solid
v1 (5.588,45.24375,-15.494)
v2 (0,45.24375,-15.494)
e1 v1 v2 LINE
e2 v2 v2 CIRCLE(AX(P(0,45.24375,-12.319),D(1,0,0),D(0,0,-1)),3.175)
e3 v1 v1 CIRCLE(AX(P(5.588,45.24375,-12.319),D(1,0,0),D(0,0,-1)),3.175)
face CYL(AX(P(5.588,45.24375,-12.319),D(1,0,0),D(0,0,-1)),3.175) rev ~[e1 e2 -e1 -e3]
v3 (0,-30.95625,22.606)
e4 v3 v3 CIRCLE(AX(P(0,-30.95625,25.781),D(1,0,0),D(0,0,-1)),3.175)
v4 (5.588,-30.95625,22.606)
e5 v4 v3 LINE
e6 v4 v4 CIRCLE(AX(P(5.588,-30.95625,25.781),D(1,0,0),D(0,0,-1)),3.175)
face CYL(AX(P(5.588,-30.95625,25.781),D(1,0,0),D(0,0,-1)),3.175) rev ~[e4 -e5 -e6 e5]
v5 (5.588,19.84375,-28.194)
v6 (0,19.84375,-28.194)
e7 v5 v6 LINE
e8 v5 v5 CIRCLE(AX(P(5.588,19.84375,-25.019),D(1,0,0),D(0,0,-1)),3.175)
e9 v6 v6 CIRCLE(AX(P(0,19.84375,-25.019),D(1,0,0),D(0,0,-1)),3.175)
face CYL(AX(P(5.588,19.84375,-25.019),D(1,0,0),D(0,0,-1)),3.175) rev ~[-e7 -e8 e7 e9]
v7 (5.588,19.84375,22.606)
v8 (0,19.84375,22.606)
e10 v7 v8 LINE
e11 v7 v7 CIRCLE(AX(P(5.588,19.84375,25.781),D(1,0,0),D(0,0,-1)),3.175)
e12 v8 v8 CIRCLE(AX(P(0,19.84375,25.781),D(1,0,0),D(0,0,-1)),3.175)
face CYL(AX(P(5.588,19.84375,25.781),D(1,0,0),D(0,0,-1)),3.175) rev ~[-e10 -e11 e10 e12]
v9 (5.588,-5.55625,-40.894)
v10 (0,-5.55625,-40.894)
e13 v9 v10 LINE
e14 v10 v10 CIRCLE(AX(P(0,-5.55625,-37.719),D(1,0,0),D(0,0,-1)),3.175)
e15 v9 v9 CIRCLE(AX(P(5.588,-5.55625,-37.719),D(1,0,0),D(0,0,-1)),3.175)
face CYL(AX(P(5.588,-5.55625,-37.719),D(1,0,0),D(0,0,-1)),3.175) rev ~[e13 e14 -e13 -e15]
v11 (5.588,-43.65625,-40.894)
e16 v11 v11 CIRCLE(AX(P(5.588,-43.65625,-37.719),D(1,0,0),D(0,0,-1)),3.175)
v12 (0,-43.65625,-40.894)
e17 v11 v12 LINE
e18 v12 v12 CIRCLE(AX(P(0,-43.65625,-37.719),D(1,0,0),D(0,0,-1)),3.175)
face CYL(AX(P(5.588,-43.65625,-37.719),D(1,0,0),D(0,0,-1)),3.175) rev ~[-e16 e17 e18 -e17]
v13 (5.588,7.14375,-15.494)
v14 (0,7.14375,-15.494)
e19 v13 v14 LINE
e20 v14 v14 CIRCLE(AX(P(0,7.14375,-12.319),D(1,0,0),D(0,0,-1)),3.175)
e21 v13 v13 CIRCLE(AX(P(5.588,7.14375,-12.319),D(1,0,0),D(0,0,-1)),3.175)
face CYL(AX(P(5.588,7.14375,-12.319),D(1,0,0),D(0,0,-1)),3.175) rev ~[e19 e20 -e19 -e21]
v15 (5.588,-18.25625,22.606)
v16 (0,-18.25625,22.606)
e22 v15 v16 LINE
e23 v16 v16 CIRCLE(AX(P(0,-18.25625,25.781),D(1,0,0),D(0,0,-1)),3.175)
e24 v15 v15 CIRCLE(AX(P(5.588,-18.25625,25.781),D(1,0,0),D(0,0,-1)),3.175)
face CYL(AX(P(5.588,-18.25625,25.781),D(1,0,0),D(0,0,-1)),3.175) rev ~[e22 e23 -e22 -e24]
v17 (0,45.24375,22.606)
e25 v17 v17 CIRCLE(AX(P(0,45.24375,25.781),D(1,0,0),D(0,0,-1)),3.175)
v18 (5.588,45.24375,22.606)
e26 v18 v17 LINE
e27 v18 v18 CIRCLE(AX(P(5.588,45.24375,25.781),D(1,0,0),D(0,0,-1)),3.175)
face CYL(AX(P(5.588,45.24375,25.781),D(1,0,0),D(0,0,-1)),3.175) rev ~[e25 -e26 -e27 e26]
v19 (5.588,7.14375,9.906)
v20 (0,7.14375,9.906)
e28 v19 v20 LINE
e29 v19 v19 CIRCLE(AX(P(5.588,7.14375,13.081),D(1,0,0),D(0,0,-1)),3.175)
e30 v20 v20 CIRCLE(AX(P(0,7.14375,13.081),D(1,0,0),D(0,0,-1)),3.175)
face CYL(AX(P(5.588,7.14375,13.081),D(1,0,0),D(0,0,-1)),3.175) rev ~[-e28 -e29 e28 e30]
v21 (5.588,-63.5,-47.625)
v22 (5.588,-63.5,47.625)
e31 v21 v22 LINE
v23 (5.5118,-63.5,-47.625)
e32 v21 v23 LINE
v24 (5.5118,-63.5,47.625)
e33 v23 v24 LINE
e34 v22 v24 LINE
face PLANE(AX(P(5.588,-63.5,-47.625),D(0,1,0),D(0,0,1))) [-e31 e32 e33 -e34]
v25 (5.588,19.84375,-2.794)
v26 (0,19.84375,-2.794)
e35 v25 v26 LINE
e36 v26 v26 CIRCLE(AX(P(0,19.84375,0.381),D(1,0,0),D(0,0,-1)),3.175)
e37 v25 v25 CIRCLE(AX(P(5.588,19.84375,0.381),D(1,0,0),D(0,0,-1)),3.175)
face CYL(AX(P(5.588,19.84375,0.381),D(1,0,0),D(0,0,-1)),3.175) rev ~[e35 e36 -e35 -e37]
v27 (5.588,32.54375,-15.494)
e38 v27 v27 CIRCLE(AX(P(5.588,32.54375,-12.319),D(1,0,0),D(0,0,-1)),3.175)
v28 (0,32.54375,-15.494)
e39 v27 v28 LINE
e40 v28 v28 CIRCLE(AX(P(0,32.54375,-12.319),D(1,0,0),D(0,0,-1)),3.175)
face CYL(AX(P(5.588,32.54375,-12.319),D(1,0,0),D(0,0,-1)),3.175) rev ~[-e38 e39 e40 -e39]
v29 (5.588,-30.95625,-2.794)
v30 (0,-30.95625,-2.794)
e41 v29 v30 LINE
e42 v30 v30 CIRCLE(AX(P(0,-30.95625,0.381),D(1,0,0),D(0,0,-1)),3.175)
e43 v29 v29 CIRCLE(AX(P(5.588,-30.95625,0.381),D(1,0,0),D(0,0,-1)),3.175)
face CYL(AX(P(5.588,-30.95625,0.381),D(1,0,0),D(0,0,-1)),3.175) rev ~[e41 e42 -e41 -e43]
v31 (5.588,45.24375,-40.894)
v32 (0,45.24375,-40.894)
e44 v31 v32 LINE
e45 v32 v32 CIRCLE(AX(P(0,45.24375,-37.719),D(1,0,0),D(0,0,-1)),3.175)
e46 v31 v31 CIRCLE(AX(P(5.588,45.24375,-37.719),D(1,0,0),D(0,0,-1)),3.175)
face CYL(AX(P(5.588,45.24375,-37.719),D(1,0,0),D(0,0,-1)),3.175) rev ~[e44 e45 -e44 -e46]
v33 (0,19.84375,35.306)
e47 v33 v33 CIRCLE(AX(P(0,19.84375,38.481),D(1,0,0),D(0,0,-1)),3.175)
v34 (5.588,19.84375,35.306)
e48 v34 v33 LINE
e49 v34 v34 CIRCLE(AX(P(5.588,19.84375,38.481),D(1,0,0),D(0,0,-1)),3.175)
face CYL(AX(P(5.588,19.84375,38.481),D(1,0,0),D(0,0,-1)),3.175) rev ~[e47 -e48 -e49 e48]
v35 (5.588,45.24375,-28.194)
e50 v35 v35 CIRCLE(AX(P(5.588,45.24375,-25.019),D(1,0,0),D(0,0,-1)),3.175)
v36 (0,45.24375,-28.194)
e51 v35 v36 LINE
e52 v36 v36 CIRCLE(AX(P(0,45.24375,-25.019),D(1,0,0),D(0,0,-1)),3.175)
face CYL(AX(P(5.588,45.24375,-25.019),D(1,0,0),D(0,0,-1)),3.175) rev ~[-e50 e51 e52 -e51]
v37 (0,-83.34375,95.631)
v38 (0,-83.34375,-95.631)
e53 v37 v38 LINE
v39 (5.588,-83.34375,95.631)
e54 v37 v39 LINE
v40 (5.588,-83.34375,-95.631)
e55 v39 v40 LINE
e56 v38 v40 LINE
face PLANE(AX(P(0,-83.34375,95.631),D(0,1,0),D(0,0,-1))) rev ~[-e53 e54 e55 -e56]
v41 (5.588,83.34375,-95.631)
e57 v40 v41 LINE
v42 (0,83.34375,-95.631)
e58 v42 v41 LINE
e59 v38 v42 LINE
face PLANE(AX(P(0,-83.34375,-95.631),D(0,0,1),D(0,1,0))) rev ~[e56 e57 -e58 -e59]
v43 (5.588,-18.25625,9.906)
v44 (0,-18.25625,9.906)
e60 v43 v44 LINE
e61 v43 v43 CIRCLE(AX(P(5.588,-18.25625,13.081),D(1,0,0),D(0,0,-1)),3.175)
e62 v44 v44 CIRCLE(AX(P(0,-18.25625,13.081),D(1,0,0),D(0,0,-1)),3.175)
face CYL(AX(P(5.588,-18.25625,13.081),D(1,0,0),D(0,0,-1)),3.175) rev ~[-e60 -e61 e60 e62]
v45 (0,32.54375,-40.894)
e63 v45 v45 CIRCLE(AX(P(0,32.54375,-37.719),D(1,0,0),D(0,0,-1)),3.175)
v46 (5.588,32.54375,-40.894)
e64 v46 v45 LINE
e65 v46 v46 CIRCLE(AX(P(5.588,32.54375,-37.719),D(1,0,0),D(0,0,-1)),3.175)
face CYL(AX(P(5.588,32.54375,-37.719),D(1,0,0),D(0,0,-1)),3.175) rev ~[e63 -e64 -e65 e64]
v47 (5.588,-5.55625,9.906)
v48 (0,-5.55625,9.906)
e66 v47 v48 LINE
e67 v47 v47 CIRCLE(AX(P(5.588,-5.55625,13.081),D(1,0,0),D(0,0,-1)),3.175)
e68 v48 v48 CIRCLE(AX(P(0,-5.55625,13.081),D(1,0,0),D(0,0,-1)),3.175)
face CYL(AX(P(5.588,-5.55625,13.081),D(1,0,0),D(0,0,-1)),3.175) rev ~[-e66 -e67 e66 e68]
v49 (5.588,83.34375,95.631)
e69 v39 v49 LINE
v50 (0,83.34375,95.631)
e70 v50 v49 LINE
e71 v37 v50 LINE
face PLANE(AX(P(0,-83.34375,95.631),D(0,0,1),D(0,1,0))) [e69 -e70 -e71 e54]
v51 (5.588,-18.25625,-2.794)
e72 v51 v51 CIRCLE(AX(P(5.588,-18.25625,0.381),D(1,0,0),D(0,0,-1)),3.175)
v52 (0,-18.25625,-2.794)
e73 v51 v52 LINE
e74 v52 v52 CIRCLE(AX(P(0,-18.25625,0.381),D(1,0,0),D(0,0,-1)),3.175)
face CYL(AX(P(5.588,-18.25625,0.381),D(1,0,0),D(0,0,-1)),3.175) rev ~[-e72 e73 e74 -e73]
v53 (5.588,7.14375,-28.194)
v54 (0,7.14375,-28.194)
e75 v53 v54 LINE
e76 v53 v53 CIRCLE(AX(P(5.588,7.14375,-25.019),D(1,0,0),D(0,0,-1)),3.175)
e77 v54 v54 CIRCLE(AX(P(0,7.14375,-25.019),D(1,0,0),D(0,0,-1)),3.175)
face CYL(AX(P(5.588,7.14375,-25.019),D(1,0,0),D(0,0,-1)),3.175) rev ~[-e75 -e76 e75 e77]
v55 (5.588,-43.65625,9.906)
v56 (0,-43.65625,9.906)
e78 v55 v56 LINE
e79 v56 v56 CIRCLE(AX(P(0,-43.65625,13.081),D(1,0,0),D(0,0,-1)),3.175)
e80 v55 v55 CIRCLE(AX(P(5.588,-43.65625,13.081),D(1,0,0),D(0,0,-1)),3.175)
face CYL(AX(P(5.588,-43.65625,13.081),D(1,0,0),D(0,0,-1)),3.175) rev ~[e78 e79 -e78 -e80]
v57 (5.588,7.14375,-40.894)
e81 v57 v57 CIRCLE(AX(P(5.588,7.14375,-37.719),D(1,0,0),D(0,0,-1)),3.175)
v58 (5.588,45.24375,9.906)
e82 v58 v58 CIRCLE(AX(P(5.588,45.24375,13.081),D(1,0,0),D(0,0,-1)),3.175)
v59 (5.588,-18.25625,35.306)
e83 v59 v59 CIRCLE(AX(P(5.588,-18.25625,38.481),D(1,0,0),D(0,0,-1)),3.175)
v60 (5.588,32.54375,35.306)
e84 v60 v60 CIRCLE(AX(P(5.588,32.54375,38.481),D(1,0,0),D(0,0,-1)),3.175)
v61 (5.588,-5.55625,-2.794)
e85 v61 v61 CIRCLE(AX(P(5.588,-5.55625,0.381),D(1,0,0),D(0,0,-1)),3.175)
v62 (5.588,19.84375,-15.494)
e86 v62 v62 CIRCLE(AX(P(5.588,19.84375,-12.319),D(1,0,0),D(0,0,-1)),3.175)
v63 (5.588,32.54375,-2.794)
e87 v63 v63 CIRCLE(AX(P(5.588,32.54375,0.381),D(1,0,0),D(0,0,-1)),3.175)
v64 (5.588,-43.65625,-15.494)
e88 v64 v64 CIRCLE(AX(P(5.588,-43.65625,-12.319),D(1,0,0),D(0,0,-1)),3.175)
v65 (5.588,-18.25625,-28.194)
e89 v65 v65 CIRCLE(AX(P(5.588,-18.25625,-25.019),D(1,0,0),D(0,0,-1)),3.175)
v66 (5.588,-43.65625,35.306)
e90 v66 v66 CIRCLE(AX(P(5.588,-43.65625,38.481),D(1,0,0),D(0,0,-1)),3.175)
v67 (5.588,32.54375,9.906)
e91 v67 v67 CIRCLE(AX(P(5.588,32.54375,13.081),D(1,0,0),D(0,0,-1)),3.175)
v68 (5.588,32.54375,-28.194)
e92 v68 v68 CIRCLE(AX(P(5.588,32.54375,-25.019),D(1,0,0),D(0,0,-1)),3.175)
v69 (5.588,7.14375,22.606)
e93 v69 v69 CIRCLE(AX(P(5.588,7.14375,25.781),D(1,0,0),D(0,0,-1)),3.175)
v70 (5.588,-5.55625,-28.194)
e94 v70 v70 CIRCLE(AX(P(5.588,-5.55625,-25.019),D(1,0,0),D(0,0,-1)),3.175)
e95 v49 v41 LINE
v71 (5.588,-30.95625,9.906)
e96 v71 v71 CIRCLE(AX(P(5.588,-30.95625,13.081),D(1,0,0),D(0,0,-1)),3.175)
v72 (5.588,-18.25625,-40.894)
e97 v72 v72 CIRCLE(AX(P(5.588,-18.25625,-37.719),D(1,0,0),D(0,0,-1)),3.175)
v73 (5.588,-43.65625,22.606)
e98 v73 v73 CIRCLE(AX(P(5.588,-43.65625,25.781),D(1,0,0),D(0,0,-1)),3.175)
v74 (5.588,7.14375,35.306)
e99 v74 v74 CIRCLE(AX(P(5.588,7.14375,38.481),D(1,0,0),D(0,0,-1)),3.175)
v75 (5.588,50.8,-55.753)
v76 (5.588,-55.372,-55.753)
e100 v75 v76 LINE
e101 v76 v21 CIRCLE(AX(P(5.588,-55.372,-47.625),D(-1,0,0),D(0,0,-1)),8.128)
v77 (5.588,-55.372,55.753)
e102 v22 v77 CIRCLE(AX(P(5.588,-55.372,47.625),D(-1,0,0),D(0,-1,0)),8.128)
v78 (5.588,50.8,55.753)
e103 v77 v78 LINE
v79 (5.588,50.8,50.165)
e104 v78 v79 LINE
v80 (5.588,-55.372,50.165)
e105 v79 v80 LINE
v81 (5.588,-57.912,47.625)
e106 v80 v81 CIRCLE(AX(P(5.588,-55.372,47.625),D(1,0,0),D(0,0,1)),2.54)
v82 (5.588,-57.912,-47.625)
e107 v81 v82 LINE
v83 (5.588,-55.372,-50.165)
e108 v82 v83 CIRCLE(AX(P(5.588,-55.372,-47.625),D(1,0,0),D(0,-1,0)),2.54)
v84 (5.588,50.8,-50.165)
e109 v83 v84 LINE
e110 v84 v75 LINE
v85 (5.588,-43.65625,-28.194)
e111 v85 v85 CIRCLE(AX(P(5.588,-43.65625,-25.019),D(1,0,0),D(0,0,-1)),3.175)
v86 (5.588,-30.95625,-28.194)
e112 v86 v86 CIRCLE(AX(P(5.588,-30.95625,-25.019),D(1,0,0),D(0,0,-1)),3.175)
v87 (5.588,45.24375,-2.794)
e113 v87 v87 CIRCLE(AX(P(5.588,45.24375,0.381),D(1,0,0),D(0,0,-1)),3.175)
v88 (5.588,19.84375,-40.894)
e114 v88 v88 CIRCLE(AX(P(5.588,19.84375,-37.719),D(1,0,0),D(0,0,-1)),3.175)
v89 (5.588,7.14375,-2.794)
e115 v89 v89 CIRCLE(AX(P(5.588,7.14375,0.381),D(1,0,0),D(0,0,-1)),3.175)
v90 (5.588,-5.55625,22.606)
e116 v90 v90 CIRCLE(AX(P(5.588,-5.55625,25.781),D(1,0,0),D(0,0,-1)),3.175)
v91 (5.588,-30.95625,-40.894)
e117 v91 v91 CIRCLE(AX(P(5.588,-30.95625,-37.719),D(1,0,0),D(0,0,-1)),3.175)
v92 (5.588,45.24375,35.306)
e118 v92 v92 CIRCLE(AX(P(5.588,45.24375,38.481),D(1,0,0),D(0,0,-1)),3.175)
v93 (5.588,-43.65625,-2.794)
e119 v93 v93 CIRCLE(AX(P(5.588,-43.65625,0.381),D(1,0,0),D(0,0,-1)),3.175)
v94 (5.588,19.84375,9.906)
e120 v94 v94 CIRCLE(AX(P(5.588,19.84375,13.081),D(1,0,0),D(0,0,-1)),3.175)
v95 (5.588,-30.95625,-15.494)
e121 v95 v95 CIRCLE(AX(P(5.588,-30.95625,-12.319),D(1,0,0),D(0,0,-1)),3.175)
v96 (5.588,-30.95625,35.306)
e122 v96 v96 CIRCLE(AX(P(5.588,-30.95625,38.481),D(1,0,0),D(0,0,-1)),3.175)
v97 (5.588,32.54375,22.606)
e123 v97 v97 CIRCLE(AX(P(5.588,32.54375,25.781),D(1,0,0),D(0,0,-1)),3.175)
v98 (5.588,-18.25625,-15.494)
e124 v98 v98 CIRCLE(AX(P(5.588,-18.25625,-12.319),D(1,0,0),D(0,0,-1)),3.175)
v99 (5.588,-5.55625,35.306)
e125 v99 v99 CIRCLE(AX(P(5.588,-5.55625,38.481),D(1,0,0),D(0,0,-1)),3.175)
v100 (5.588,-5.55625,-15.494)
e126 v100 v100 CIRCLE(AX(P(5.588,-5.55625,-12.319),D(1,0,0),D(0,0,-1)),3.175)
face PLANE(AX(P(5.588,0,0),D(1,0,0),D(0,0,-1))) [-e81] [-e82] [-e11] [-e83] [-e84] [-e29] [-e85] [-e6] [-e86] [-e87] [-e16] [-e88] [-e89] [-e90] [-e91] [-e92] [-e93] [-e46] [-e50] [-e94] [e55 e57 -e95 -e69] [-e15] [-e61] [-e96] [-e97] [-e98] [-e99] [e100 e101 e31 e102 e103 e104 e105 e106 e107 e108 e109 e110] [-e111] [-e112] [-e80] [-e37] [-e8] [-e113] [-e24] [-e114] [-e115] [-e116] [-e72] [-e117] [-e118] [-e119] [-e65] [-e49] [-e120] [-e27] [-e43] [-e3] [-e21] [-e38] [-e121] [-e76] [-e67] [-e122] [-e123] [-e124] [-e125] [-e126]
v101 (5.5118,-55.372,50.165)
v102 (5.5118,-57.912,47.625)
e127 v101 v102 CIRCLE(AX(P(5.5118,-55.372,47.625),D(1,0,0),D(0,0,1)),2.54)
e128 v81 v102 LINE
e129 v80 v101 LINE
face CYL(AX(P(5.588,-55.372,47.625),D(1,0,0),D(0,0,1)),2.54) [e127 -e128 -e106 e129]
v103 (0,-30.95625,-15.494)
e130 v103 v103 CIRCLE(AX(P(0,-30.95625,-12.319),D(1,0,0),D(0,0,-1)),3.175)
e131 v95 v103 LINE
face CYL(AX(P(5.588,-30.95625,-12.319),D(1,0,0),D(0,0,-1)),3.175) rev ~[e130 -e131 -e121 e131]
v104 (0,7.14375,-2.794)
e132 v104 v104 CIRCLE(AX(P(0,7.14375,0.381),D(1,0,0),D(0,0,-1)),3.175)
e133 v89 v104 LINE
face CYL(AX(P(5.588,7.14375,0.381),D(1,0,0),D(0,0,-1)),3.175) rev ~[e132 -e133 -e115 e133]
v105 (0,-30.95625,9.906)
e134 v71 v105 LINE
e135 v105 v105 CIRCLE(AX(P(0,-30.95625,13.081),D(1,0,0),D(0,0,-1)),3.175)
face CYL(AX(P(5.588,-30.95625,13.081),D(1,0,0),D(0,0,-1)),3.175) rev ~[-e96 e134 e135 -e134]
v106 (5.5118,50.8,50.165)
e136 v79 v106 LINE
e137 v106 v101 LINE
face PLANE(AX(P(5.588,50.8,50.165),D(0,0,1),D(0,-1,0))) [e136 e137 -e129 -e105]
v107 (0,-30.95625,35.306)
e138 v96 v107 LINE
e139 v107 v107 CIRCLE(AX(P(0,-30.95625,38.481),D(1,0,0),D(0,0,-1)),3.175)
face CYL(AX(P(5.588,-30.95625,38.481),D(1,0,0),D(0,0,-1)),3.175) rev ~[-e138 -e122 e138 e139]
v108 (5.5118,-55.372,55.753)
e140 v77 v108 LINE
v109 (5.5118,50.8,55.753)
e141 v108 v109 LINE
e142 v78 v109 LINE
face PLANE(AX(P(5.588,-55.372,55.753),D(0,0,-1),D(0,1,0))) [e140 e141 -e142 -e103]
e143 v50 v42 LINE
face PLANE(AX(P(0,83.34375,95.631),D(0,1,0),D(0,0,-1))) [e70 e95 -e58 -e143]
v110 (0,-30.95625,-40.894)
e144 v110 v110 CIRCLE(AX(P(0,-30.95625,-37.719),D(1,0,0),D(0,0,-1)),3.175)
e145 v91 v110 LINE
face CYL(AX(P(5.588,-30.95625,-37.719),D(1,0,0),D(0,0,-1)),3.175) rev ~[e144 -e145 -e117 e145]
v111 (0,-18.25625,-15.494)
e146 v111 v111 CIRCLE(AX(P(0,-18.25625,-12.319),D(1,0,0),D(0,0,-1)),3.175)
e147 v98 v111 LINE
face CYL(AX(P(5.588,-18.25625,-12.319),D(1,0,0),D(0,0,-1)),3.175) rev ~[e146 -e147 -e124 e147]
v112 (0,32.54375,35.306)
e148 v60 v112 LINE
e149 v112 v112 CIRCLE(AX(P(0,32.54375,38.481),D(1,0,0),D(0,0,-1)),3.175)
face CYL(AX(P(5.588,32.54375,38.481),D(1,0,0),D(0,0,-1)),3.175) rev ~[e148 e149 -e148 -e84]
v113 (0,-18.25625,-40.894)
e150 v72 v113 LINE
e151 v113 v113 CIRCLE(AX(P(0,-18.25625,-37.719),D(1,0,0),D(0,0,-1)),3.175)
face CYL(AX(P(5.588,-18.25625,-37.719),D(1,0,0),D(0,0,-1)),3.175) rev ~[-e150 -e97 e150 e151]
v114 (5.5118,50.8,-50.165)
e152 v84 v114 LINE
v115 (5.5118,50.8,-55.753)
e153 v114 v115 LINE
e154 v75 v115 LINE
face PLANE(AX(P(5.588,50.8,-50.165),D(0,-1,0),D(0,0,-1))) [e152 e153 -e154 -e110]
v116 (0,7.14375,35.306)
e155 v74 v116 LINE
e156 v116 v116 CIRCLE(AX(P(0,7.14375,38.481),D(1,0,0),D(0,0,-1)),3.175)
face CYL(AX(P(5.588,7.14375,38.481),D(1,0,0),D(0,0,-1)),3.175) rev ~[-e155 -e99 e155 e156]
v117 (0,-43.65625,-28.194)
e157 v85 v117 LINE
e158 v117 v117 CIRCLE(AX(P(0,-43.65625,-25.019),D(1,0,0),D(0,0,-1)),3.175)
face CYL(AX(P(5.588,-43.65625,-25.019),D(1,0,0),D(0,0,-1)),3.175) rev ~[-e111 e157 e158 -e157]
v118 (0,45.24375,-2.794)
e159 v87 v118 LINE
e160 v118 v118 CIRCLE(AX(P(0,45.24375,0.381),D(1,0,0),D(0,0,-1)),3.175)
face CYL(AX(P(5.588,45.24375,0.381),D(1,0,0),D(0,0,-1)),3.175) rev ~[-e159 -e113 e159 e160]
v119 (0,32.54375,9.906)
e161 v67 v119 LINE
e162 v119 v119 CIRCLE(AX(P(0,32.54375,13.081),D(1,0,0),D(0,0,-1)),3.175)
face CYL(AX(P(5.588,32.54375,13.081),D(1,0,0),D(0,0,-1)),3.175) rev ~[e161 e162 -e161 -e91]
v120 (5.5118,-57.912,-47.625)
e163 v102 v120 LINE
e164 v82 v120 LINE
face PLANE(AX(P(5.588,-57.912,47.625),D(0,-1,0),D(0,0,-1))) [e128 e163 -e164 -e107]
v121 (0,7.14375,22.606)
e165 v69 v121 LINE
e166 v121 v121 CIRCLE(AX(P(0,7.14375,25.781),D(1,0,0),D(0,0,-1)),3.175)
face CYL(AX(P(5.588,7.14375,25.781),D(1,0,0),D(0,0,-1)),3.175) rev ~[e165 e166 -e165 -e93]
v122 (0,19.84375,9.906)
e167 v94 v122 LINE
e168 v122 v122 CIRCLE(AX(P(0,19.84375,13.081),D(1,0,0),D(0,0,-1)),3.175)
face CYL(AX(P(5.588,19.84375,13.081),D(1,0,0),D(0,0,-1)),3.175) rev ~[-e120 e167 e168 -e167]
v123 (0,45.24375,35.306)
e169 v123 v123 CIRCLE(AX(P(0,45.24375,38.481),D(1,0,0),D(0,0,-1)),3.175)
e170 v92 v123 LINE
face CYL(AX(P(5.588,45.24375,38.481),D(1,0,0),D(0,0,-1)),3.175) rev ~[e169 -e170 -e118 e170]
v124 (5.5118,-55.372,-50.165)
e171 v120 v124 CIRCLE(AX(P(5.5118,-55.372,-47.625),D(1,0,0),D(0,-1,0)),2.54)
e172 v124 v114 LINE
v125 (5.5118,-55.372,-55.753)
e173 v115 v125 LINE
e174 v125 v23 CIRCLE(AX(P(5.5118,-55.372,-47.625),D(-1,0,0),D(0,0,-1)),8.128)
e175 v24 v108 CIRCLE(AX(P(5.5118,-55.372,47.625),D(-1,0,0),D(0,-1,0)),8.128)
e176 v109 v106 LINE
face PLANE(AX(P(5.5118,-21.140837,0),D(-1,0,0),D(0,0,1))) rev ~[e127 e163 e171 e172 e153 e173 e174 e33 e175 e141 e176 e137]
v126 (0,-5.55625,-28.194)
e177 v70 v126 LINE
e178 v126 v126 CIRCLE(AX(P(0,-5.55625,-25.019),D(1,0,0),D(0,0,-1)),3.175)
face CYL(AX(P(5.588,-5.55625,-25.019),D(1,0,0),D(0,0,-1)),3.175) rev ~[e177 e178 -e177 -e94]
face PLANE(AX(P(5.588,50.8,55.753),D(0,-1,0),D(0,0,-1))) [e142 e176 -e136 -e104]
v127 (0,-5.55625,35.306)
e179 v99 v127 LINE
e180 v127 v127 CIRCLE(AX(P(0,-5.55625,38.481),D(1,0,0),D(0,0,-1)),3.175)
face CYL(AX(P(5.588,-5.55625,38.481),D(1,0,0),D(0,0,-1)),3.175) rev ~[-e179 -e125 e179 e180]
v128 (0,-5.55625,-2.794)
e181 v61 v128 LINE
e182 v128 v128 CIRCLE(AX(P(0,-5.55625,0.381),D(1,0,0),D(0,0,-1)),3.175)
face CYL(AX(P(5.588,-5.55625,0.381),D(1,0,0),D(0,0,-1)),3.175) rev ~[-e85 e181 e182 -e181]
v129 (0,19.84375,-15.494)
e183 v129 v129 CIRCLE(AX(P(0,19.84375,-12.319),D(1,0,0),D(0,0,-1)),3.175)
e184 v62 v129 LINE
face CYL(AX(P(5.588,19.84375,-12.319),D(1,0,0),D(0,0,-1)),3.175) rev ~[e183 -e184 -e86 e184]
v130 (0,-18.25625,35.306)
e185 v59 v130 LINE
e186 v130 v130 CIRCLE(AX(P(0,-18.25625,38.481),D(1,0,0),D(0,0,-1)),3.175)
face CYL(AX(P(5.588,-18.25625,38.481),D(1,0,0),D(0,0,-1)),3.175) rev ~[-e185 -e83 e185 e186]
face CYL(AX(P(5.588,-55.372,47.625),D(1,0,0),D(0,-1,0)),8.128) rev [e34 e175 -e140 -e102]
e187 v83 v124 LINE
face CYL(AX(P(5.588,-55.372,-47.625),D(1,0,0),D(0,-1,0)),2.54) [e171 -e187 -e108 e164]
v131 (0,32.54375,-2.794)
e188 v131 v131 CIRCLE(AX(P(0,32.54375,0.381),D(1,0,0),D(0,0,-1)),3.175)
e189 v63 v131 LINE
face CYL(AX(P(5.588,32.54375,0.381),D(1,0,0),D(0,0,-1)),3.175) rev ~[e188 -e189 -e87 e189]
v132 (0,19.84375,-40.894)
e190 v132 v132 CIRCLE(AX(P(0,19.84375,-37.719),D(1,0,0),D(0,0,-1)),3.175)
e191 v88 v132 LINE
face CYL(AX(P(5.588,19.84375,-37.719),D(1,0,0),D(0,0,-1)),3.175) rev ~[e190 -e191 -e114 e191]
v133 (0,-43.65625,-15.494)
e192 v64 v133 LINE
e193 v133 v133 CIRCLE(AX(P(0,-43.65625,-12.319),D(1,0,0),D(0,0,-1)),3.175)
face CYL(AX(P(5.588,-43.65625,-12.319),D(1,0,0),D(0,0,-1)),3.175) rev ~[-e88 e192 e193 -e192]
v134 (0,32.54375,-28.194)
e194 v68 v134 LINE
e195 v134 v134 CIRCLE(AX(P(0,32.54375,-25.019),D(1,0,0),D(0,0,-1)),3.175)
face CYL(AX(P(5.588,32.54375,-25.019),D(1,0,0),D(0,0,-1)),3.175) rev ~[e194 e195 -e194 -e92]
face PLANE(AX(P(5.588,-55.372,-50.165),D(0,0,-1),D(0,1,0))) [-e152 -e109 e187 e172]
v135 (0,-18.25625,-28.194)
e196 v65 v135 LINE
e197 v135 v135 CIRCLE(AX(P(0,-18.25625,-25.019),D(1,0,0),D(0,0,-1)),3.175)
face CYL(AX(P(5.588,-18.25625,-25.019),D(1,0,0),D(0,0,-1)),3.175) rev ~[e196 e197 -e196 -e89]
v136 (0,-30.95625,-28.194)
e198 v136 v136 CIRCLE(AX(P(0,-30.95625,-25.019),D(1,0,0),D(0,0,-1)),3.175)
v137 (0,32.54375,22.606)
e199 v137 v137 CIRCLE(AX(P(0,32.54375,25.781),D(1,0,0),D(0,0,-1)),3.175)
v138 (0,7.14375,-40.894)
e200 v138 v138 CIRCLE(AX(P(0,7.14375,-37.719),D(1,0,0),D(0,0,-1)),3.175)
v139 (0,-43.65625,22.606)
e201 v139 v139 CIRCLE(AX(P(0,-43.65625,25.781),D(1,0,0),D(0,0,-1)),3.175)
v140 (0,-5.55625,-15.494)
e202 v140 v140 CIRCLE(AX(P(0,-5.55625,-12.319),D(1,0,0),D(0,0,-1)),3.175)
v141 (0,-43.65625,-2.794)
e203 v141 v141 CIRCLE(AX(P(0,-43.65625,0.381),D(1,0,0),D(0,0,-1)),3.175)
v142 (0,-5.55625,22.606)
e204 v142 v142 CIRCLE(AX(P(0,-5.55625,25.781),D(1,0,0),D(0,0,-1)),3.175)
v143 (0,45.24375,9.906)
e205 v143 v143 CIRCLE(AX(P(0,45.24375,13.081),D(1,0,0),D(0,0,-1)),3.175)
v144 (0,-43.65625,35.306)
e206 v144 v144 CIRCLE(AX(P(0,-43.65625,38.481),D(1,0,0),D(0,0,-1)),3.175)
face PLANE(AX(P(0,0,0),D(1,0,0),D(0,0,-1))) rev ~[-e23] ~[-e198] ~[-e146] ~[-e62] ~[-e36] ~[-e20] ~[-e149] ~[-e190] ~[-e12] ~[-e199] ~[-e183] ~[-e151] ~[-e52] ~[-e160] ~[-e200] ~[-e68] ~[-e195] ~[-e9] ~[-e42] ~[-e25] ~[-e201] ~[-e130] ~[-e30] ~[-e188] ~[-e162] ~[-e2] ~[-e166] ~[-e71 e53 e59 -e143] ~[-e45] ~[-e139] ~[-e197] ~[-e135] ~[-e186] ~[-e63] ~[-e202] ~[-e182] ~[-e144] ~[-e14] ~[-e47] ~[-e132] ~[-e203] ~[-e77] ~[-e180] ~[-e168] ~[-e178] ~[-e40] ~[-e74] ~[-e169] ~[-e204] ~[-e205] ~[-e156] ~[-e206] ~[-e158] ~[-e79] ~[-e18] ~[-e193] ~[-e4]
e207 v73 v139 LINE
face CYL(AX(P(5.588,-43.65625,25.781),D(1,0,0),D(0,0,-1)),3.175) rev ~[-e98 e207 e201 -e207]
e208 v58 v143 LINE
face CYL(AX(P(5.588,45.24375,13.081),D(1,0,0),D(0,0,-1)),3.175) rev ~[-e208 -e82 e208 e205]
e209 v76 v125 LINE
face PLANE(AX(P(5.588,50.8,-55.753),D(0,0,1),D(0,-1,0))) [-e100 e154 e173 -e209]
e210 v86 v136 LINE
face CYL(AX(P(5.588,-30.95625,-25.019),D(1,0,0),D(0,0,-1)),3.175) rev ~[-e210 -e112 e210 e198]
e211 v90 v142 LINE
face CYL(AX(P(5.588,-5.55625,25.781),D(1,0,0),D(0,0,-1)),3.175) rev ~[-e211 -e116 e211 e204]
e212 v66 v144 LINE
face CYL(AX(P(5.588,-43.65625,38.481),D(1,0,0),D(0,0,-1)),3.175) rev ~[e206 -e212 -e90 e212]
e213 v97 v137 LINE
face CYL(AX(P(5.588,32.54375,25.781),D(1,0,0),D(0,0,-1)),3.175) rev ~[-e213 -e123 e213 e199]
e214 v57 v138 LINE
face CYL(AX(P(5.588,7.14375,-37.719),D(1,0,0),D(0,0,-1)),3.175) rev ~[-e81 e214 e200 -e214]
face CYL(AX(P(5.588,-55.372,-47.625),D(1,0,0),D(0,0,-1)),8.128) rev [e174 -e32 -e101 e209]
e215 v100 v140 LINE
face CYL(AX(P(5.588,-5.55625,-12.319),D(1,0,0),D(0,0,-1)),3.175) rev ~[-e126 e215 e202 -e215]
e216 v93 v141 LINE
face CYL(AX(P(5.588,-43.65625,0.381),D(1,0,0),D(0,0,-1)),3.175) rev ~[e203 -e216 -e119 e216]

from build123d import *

# Parameters (mm, degrees)
SKETCH1_W            = 191.262
SKETCH1_H            = 166.6875
BOSS_EXTRUDE1_DEPTH  = 5.588
CUT_EXTRUDE2_REACH   = 128.975
SKETCH6_R            = 3.175
LPATTERN1_COUNT      = 7
LPATTERN1_PITCH      = 12.7
LPATTERN1_COUNT_DIR2 = 8
LPATTERN1_PITCH_DIR2 = 12.7
CUT_EXTRUDE3_DEPTH   = 0.0762


with BuildPart() as part:
    # Sketch1 → Boss-Extrude1 (new body)
    with BuildSketch(Plane(origin=(0, 0, 0), x_dir=(0, 0, -1), z_dir=(1, 0, 0))):
        Rectangle(SKETCH1_W, SKETCH1_H)
    extrude(amount=BOSS_EXTRUDE1_DEPTH)

    # Sketch6 → Cut-Extrude2 (cut, up to next)
    with BuildSketch(Plane(origin=(5.588, 0, 0), x_dir=(0, 0, -1), z_dir=(1, 0, 0)), mode=Mode.PRIVATE) as cut_extrude2_sk1:
        with Locations((-38.481, 45.24375)):
            Circle(SKETCH6_R)
    cut_extrude2_tool1 = extrude(cut_extrude2_sk1.sketch, amount=-CUT_EXTRUDE2_REACH, mode=Mode.PRIVATE) & part.part
    cut_extrude2 = cut_extrude2_tool1.solids().sort_by_distance((5.588, 45.24375, 38.481))[0]
    add(cut_extrude2, mode=Mode.SUBTRACT)

    # LPattern1: Cut-Extrude2 7 × 8
    with Locations(*[(0, -j * LPATTERN1_PITCH_DIR2, -i * LPATTERN1_PITCH) for i in range(LPATTERN1_COUNT) for j in range(LPATTERN1_COUNT_DIR2) if (i, j) != (0, 0)]):
        add(cut_extrude2, mode=Mode.SUBTRACT)

    # Sketch7 → Cut-Extrude3 (cut)
    with BuildSketch(Plane(origin=(5.588, 0, 0), x_dir=(0, 0, -1), z_dir=(1, 0, 0))):
        with BuildLine():
            Line((-55.753, -55.372), (-55.753, 50.8))
            Line((-55.753, 50.8), (-50.165, 50.8))
            Line((-50.165, 50.8), (-50.165, -55.372))
            ThreePointArc((-50.165, -55.372), (-49.421051224, -57.168051224), (-47.625, -57.912))
            Line((-47.625, -57.912), (47.625, -57.912))
            ThreePointArc((47.625, -57.912), (49.421051224, -57.168051224), (50.165, -55.372))
            Line((50.165, -55.372), (50.165, 50.8))
            Line((50.165, 50.8), (55.753, 50.8))
            Line((55.753, 50.8), (55.753, -55.372))
            ThreePointArc((55.753, -55.372), (53.372363917, -61.119363917), (47.625, -63.5))
            Line((47.625, -63.5), (-47.625, -63.5))
            ThreePointArc((-47.625, -63.5), (-53.372363917, -61.119363917), (-55.753, -55.372))
        make_face()
    extrude(amount=-CUT_EXTRUDE3_DEPTH, mode=Mode.SUBTRACT)


solid = part.part
